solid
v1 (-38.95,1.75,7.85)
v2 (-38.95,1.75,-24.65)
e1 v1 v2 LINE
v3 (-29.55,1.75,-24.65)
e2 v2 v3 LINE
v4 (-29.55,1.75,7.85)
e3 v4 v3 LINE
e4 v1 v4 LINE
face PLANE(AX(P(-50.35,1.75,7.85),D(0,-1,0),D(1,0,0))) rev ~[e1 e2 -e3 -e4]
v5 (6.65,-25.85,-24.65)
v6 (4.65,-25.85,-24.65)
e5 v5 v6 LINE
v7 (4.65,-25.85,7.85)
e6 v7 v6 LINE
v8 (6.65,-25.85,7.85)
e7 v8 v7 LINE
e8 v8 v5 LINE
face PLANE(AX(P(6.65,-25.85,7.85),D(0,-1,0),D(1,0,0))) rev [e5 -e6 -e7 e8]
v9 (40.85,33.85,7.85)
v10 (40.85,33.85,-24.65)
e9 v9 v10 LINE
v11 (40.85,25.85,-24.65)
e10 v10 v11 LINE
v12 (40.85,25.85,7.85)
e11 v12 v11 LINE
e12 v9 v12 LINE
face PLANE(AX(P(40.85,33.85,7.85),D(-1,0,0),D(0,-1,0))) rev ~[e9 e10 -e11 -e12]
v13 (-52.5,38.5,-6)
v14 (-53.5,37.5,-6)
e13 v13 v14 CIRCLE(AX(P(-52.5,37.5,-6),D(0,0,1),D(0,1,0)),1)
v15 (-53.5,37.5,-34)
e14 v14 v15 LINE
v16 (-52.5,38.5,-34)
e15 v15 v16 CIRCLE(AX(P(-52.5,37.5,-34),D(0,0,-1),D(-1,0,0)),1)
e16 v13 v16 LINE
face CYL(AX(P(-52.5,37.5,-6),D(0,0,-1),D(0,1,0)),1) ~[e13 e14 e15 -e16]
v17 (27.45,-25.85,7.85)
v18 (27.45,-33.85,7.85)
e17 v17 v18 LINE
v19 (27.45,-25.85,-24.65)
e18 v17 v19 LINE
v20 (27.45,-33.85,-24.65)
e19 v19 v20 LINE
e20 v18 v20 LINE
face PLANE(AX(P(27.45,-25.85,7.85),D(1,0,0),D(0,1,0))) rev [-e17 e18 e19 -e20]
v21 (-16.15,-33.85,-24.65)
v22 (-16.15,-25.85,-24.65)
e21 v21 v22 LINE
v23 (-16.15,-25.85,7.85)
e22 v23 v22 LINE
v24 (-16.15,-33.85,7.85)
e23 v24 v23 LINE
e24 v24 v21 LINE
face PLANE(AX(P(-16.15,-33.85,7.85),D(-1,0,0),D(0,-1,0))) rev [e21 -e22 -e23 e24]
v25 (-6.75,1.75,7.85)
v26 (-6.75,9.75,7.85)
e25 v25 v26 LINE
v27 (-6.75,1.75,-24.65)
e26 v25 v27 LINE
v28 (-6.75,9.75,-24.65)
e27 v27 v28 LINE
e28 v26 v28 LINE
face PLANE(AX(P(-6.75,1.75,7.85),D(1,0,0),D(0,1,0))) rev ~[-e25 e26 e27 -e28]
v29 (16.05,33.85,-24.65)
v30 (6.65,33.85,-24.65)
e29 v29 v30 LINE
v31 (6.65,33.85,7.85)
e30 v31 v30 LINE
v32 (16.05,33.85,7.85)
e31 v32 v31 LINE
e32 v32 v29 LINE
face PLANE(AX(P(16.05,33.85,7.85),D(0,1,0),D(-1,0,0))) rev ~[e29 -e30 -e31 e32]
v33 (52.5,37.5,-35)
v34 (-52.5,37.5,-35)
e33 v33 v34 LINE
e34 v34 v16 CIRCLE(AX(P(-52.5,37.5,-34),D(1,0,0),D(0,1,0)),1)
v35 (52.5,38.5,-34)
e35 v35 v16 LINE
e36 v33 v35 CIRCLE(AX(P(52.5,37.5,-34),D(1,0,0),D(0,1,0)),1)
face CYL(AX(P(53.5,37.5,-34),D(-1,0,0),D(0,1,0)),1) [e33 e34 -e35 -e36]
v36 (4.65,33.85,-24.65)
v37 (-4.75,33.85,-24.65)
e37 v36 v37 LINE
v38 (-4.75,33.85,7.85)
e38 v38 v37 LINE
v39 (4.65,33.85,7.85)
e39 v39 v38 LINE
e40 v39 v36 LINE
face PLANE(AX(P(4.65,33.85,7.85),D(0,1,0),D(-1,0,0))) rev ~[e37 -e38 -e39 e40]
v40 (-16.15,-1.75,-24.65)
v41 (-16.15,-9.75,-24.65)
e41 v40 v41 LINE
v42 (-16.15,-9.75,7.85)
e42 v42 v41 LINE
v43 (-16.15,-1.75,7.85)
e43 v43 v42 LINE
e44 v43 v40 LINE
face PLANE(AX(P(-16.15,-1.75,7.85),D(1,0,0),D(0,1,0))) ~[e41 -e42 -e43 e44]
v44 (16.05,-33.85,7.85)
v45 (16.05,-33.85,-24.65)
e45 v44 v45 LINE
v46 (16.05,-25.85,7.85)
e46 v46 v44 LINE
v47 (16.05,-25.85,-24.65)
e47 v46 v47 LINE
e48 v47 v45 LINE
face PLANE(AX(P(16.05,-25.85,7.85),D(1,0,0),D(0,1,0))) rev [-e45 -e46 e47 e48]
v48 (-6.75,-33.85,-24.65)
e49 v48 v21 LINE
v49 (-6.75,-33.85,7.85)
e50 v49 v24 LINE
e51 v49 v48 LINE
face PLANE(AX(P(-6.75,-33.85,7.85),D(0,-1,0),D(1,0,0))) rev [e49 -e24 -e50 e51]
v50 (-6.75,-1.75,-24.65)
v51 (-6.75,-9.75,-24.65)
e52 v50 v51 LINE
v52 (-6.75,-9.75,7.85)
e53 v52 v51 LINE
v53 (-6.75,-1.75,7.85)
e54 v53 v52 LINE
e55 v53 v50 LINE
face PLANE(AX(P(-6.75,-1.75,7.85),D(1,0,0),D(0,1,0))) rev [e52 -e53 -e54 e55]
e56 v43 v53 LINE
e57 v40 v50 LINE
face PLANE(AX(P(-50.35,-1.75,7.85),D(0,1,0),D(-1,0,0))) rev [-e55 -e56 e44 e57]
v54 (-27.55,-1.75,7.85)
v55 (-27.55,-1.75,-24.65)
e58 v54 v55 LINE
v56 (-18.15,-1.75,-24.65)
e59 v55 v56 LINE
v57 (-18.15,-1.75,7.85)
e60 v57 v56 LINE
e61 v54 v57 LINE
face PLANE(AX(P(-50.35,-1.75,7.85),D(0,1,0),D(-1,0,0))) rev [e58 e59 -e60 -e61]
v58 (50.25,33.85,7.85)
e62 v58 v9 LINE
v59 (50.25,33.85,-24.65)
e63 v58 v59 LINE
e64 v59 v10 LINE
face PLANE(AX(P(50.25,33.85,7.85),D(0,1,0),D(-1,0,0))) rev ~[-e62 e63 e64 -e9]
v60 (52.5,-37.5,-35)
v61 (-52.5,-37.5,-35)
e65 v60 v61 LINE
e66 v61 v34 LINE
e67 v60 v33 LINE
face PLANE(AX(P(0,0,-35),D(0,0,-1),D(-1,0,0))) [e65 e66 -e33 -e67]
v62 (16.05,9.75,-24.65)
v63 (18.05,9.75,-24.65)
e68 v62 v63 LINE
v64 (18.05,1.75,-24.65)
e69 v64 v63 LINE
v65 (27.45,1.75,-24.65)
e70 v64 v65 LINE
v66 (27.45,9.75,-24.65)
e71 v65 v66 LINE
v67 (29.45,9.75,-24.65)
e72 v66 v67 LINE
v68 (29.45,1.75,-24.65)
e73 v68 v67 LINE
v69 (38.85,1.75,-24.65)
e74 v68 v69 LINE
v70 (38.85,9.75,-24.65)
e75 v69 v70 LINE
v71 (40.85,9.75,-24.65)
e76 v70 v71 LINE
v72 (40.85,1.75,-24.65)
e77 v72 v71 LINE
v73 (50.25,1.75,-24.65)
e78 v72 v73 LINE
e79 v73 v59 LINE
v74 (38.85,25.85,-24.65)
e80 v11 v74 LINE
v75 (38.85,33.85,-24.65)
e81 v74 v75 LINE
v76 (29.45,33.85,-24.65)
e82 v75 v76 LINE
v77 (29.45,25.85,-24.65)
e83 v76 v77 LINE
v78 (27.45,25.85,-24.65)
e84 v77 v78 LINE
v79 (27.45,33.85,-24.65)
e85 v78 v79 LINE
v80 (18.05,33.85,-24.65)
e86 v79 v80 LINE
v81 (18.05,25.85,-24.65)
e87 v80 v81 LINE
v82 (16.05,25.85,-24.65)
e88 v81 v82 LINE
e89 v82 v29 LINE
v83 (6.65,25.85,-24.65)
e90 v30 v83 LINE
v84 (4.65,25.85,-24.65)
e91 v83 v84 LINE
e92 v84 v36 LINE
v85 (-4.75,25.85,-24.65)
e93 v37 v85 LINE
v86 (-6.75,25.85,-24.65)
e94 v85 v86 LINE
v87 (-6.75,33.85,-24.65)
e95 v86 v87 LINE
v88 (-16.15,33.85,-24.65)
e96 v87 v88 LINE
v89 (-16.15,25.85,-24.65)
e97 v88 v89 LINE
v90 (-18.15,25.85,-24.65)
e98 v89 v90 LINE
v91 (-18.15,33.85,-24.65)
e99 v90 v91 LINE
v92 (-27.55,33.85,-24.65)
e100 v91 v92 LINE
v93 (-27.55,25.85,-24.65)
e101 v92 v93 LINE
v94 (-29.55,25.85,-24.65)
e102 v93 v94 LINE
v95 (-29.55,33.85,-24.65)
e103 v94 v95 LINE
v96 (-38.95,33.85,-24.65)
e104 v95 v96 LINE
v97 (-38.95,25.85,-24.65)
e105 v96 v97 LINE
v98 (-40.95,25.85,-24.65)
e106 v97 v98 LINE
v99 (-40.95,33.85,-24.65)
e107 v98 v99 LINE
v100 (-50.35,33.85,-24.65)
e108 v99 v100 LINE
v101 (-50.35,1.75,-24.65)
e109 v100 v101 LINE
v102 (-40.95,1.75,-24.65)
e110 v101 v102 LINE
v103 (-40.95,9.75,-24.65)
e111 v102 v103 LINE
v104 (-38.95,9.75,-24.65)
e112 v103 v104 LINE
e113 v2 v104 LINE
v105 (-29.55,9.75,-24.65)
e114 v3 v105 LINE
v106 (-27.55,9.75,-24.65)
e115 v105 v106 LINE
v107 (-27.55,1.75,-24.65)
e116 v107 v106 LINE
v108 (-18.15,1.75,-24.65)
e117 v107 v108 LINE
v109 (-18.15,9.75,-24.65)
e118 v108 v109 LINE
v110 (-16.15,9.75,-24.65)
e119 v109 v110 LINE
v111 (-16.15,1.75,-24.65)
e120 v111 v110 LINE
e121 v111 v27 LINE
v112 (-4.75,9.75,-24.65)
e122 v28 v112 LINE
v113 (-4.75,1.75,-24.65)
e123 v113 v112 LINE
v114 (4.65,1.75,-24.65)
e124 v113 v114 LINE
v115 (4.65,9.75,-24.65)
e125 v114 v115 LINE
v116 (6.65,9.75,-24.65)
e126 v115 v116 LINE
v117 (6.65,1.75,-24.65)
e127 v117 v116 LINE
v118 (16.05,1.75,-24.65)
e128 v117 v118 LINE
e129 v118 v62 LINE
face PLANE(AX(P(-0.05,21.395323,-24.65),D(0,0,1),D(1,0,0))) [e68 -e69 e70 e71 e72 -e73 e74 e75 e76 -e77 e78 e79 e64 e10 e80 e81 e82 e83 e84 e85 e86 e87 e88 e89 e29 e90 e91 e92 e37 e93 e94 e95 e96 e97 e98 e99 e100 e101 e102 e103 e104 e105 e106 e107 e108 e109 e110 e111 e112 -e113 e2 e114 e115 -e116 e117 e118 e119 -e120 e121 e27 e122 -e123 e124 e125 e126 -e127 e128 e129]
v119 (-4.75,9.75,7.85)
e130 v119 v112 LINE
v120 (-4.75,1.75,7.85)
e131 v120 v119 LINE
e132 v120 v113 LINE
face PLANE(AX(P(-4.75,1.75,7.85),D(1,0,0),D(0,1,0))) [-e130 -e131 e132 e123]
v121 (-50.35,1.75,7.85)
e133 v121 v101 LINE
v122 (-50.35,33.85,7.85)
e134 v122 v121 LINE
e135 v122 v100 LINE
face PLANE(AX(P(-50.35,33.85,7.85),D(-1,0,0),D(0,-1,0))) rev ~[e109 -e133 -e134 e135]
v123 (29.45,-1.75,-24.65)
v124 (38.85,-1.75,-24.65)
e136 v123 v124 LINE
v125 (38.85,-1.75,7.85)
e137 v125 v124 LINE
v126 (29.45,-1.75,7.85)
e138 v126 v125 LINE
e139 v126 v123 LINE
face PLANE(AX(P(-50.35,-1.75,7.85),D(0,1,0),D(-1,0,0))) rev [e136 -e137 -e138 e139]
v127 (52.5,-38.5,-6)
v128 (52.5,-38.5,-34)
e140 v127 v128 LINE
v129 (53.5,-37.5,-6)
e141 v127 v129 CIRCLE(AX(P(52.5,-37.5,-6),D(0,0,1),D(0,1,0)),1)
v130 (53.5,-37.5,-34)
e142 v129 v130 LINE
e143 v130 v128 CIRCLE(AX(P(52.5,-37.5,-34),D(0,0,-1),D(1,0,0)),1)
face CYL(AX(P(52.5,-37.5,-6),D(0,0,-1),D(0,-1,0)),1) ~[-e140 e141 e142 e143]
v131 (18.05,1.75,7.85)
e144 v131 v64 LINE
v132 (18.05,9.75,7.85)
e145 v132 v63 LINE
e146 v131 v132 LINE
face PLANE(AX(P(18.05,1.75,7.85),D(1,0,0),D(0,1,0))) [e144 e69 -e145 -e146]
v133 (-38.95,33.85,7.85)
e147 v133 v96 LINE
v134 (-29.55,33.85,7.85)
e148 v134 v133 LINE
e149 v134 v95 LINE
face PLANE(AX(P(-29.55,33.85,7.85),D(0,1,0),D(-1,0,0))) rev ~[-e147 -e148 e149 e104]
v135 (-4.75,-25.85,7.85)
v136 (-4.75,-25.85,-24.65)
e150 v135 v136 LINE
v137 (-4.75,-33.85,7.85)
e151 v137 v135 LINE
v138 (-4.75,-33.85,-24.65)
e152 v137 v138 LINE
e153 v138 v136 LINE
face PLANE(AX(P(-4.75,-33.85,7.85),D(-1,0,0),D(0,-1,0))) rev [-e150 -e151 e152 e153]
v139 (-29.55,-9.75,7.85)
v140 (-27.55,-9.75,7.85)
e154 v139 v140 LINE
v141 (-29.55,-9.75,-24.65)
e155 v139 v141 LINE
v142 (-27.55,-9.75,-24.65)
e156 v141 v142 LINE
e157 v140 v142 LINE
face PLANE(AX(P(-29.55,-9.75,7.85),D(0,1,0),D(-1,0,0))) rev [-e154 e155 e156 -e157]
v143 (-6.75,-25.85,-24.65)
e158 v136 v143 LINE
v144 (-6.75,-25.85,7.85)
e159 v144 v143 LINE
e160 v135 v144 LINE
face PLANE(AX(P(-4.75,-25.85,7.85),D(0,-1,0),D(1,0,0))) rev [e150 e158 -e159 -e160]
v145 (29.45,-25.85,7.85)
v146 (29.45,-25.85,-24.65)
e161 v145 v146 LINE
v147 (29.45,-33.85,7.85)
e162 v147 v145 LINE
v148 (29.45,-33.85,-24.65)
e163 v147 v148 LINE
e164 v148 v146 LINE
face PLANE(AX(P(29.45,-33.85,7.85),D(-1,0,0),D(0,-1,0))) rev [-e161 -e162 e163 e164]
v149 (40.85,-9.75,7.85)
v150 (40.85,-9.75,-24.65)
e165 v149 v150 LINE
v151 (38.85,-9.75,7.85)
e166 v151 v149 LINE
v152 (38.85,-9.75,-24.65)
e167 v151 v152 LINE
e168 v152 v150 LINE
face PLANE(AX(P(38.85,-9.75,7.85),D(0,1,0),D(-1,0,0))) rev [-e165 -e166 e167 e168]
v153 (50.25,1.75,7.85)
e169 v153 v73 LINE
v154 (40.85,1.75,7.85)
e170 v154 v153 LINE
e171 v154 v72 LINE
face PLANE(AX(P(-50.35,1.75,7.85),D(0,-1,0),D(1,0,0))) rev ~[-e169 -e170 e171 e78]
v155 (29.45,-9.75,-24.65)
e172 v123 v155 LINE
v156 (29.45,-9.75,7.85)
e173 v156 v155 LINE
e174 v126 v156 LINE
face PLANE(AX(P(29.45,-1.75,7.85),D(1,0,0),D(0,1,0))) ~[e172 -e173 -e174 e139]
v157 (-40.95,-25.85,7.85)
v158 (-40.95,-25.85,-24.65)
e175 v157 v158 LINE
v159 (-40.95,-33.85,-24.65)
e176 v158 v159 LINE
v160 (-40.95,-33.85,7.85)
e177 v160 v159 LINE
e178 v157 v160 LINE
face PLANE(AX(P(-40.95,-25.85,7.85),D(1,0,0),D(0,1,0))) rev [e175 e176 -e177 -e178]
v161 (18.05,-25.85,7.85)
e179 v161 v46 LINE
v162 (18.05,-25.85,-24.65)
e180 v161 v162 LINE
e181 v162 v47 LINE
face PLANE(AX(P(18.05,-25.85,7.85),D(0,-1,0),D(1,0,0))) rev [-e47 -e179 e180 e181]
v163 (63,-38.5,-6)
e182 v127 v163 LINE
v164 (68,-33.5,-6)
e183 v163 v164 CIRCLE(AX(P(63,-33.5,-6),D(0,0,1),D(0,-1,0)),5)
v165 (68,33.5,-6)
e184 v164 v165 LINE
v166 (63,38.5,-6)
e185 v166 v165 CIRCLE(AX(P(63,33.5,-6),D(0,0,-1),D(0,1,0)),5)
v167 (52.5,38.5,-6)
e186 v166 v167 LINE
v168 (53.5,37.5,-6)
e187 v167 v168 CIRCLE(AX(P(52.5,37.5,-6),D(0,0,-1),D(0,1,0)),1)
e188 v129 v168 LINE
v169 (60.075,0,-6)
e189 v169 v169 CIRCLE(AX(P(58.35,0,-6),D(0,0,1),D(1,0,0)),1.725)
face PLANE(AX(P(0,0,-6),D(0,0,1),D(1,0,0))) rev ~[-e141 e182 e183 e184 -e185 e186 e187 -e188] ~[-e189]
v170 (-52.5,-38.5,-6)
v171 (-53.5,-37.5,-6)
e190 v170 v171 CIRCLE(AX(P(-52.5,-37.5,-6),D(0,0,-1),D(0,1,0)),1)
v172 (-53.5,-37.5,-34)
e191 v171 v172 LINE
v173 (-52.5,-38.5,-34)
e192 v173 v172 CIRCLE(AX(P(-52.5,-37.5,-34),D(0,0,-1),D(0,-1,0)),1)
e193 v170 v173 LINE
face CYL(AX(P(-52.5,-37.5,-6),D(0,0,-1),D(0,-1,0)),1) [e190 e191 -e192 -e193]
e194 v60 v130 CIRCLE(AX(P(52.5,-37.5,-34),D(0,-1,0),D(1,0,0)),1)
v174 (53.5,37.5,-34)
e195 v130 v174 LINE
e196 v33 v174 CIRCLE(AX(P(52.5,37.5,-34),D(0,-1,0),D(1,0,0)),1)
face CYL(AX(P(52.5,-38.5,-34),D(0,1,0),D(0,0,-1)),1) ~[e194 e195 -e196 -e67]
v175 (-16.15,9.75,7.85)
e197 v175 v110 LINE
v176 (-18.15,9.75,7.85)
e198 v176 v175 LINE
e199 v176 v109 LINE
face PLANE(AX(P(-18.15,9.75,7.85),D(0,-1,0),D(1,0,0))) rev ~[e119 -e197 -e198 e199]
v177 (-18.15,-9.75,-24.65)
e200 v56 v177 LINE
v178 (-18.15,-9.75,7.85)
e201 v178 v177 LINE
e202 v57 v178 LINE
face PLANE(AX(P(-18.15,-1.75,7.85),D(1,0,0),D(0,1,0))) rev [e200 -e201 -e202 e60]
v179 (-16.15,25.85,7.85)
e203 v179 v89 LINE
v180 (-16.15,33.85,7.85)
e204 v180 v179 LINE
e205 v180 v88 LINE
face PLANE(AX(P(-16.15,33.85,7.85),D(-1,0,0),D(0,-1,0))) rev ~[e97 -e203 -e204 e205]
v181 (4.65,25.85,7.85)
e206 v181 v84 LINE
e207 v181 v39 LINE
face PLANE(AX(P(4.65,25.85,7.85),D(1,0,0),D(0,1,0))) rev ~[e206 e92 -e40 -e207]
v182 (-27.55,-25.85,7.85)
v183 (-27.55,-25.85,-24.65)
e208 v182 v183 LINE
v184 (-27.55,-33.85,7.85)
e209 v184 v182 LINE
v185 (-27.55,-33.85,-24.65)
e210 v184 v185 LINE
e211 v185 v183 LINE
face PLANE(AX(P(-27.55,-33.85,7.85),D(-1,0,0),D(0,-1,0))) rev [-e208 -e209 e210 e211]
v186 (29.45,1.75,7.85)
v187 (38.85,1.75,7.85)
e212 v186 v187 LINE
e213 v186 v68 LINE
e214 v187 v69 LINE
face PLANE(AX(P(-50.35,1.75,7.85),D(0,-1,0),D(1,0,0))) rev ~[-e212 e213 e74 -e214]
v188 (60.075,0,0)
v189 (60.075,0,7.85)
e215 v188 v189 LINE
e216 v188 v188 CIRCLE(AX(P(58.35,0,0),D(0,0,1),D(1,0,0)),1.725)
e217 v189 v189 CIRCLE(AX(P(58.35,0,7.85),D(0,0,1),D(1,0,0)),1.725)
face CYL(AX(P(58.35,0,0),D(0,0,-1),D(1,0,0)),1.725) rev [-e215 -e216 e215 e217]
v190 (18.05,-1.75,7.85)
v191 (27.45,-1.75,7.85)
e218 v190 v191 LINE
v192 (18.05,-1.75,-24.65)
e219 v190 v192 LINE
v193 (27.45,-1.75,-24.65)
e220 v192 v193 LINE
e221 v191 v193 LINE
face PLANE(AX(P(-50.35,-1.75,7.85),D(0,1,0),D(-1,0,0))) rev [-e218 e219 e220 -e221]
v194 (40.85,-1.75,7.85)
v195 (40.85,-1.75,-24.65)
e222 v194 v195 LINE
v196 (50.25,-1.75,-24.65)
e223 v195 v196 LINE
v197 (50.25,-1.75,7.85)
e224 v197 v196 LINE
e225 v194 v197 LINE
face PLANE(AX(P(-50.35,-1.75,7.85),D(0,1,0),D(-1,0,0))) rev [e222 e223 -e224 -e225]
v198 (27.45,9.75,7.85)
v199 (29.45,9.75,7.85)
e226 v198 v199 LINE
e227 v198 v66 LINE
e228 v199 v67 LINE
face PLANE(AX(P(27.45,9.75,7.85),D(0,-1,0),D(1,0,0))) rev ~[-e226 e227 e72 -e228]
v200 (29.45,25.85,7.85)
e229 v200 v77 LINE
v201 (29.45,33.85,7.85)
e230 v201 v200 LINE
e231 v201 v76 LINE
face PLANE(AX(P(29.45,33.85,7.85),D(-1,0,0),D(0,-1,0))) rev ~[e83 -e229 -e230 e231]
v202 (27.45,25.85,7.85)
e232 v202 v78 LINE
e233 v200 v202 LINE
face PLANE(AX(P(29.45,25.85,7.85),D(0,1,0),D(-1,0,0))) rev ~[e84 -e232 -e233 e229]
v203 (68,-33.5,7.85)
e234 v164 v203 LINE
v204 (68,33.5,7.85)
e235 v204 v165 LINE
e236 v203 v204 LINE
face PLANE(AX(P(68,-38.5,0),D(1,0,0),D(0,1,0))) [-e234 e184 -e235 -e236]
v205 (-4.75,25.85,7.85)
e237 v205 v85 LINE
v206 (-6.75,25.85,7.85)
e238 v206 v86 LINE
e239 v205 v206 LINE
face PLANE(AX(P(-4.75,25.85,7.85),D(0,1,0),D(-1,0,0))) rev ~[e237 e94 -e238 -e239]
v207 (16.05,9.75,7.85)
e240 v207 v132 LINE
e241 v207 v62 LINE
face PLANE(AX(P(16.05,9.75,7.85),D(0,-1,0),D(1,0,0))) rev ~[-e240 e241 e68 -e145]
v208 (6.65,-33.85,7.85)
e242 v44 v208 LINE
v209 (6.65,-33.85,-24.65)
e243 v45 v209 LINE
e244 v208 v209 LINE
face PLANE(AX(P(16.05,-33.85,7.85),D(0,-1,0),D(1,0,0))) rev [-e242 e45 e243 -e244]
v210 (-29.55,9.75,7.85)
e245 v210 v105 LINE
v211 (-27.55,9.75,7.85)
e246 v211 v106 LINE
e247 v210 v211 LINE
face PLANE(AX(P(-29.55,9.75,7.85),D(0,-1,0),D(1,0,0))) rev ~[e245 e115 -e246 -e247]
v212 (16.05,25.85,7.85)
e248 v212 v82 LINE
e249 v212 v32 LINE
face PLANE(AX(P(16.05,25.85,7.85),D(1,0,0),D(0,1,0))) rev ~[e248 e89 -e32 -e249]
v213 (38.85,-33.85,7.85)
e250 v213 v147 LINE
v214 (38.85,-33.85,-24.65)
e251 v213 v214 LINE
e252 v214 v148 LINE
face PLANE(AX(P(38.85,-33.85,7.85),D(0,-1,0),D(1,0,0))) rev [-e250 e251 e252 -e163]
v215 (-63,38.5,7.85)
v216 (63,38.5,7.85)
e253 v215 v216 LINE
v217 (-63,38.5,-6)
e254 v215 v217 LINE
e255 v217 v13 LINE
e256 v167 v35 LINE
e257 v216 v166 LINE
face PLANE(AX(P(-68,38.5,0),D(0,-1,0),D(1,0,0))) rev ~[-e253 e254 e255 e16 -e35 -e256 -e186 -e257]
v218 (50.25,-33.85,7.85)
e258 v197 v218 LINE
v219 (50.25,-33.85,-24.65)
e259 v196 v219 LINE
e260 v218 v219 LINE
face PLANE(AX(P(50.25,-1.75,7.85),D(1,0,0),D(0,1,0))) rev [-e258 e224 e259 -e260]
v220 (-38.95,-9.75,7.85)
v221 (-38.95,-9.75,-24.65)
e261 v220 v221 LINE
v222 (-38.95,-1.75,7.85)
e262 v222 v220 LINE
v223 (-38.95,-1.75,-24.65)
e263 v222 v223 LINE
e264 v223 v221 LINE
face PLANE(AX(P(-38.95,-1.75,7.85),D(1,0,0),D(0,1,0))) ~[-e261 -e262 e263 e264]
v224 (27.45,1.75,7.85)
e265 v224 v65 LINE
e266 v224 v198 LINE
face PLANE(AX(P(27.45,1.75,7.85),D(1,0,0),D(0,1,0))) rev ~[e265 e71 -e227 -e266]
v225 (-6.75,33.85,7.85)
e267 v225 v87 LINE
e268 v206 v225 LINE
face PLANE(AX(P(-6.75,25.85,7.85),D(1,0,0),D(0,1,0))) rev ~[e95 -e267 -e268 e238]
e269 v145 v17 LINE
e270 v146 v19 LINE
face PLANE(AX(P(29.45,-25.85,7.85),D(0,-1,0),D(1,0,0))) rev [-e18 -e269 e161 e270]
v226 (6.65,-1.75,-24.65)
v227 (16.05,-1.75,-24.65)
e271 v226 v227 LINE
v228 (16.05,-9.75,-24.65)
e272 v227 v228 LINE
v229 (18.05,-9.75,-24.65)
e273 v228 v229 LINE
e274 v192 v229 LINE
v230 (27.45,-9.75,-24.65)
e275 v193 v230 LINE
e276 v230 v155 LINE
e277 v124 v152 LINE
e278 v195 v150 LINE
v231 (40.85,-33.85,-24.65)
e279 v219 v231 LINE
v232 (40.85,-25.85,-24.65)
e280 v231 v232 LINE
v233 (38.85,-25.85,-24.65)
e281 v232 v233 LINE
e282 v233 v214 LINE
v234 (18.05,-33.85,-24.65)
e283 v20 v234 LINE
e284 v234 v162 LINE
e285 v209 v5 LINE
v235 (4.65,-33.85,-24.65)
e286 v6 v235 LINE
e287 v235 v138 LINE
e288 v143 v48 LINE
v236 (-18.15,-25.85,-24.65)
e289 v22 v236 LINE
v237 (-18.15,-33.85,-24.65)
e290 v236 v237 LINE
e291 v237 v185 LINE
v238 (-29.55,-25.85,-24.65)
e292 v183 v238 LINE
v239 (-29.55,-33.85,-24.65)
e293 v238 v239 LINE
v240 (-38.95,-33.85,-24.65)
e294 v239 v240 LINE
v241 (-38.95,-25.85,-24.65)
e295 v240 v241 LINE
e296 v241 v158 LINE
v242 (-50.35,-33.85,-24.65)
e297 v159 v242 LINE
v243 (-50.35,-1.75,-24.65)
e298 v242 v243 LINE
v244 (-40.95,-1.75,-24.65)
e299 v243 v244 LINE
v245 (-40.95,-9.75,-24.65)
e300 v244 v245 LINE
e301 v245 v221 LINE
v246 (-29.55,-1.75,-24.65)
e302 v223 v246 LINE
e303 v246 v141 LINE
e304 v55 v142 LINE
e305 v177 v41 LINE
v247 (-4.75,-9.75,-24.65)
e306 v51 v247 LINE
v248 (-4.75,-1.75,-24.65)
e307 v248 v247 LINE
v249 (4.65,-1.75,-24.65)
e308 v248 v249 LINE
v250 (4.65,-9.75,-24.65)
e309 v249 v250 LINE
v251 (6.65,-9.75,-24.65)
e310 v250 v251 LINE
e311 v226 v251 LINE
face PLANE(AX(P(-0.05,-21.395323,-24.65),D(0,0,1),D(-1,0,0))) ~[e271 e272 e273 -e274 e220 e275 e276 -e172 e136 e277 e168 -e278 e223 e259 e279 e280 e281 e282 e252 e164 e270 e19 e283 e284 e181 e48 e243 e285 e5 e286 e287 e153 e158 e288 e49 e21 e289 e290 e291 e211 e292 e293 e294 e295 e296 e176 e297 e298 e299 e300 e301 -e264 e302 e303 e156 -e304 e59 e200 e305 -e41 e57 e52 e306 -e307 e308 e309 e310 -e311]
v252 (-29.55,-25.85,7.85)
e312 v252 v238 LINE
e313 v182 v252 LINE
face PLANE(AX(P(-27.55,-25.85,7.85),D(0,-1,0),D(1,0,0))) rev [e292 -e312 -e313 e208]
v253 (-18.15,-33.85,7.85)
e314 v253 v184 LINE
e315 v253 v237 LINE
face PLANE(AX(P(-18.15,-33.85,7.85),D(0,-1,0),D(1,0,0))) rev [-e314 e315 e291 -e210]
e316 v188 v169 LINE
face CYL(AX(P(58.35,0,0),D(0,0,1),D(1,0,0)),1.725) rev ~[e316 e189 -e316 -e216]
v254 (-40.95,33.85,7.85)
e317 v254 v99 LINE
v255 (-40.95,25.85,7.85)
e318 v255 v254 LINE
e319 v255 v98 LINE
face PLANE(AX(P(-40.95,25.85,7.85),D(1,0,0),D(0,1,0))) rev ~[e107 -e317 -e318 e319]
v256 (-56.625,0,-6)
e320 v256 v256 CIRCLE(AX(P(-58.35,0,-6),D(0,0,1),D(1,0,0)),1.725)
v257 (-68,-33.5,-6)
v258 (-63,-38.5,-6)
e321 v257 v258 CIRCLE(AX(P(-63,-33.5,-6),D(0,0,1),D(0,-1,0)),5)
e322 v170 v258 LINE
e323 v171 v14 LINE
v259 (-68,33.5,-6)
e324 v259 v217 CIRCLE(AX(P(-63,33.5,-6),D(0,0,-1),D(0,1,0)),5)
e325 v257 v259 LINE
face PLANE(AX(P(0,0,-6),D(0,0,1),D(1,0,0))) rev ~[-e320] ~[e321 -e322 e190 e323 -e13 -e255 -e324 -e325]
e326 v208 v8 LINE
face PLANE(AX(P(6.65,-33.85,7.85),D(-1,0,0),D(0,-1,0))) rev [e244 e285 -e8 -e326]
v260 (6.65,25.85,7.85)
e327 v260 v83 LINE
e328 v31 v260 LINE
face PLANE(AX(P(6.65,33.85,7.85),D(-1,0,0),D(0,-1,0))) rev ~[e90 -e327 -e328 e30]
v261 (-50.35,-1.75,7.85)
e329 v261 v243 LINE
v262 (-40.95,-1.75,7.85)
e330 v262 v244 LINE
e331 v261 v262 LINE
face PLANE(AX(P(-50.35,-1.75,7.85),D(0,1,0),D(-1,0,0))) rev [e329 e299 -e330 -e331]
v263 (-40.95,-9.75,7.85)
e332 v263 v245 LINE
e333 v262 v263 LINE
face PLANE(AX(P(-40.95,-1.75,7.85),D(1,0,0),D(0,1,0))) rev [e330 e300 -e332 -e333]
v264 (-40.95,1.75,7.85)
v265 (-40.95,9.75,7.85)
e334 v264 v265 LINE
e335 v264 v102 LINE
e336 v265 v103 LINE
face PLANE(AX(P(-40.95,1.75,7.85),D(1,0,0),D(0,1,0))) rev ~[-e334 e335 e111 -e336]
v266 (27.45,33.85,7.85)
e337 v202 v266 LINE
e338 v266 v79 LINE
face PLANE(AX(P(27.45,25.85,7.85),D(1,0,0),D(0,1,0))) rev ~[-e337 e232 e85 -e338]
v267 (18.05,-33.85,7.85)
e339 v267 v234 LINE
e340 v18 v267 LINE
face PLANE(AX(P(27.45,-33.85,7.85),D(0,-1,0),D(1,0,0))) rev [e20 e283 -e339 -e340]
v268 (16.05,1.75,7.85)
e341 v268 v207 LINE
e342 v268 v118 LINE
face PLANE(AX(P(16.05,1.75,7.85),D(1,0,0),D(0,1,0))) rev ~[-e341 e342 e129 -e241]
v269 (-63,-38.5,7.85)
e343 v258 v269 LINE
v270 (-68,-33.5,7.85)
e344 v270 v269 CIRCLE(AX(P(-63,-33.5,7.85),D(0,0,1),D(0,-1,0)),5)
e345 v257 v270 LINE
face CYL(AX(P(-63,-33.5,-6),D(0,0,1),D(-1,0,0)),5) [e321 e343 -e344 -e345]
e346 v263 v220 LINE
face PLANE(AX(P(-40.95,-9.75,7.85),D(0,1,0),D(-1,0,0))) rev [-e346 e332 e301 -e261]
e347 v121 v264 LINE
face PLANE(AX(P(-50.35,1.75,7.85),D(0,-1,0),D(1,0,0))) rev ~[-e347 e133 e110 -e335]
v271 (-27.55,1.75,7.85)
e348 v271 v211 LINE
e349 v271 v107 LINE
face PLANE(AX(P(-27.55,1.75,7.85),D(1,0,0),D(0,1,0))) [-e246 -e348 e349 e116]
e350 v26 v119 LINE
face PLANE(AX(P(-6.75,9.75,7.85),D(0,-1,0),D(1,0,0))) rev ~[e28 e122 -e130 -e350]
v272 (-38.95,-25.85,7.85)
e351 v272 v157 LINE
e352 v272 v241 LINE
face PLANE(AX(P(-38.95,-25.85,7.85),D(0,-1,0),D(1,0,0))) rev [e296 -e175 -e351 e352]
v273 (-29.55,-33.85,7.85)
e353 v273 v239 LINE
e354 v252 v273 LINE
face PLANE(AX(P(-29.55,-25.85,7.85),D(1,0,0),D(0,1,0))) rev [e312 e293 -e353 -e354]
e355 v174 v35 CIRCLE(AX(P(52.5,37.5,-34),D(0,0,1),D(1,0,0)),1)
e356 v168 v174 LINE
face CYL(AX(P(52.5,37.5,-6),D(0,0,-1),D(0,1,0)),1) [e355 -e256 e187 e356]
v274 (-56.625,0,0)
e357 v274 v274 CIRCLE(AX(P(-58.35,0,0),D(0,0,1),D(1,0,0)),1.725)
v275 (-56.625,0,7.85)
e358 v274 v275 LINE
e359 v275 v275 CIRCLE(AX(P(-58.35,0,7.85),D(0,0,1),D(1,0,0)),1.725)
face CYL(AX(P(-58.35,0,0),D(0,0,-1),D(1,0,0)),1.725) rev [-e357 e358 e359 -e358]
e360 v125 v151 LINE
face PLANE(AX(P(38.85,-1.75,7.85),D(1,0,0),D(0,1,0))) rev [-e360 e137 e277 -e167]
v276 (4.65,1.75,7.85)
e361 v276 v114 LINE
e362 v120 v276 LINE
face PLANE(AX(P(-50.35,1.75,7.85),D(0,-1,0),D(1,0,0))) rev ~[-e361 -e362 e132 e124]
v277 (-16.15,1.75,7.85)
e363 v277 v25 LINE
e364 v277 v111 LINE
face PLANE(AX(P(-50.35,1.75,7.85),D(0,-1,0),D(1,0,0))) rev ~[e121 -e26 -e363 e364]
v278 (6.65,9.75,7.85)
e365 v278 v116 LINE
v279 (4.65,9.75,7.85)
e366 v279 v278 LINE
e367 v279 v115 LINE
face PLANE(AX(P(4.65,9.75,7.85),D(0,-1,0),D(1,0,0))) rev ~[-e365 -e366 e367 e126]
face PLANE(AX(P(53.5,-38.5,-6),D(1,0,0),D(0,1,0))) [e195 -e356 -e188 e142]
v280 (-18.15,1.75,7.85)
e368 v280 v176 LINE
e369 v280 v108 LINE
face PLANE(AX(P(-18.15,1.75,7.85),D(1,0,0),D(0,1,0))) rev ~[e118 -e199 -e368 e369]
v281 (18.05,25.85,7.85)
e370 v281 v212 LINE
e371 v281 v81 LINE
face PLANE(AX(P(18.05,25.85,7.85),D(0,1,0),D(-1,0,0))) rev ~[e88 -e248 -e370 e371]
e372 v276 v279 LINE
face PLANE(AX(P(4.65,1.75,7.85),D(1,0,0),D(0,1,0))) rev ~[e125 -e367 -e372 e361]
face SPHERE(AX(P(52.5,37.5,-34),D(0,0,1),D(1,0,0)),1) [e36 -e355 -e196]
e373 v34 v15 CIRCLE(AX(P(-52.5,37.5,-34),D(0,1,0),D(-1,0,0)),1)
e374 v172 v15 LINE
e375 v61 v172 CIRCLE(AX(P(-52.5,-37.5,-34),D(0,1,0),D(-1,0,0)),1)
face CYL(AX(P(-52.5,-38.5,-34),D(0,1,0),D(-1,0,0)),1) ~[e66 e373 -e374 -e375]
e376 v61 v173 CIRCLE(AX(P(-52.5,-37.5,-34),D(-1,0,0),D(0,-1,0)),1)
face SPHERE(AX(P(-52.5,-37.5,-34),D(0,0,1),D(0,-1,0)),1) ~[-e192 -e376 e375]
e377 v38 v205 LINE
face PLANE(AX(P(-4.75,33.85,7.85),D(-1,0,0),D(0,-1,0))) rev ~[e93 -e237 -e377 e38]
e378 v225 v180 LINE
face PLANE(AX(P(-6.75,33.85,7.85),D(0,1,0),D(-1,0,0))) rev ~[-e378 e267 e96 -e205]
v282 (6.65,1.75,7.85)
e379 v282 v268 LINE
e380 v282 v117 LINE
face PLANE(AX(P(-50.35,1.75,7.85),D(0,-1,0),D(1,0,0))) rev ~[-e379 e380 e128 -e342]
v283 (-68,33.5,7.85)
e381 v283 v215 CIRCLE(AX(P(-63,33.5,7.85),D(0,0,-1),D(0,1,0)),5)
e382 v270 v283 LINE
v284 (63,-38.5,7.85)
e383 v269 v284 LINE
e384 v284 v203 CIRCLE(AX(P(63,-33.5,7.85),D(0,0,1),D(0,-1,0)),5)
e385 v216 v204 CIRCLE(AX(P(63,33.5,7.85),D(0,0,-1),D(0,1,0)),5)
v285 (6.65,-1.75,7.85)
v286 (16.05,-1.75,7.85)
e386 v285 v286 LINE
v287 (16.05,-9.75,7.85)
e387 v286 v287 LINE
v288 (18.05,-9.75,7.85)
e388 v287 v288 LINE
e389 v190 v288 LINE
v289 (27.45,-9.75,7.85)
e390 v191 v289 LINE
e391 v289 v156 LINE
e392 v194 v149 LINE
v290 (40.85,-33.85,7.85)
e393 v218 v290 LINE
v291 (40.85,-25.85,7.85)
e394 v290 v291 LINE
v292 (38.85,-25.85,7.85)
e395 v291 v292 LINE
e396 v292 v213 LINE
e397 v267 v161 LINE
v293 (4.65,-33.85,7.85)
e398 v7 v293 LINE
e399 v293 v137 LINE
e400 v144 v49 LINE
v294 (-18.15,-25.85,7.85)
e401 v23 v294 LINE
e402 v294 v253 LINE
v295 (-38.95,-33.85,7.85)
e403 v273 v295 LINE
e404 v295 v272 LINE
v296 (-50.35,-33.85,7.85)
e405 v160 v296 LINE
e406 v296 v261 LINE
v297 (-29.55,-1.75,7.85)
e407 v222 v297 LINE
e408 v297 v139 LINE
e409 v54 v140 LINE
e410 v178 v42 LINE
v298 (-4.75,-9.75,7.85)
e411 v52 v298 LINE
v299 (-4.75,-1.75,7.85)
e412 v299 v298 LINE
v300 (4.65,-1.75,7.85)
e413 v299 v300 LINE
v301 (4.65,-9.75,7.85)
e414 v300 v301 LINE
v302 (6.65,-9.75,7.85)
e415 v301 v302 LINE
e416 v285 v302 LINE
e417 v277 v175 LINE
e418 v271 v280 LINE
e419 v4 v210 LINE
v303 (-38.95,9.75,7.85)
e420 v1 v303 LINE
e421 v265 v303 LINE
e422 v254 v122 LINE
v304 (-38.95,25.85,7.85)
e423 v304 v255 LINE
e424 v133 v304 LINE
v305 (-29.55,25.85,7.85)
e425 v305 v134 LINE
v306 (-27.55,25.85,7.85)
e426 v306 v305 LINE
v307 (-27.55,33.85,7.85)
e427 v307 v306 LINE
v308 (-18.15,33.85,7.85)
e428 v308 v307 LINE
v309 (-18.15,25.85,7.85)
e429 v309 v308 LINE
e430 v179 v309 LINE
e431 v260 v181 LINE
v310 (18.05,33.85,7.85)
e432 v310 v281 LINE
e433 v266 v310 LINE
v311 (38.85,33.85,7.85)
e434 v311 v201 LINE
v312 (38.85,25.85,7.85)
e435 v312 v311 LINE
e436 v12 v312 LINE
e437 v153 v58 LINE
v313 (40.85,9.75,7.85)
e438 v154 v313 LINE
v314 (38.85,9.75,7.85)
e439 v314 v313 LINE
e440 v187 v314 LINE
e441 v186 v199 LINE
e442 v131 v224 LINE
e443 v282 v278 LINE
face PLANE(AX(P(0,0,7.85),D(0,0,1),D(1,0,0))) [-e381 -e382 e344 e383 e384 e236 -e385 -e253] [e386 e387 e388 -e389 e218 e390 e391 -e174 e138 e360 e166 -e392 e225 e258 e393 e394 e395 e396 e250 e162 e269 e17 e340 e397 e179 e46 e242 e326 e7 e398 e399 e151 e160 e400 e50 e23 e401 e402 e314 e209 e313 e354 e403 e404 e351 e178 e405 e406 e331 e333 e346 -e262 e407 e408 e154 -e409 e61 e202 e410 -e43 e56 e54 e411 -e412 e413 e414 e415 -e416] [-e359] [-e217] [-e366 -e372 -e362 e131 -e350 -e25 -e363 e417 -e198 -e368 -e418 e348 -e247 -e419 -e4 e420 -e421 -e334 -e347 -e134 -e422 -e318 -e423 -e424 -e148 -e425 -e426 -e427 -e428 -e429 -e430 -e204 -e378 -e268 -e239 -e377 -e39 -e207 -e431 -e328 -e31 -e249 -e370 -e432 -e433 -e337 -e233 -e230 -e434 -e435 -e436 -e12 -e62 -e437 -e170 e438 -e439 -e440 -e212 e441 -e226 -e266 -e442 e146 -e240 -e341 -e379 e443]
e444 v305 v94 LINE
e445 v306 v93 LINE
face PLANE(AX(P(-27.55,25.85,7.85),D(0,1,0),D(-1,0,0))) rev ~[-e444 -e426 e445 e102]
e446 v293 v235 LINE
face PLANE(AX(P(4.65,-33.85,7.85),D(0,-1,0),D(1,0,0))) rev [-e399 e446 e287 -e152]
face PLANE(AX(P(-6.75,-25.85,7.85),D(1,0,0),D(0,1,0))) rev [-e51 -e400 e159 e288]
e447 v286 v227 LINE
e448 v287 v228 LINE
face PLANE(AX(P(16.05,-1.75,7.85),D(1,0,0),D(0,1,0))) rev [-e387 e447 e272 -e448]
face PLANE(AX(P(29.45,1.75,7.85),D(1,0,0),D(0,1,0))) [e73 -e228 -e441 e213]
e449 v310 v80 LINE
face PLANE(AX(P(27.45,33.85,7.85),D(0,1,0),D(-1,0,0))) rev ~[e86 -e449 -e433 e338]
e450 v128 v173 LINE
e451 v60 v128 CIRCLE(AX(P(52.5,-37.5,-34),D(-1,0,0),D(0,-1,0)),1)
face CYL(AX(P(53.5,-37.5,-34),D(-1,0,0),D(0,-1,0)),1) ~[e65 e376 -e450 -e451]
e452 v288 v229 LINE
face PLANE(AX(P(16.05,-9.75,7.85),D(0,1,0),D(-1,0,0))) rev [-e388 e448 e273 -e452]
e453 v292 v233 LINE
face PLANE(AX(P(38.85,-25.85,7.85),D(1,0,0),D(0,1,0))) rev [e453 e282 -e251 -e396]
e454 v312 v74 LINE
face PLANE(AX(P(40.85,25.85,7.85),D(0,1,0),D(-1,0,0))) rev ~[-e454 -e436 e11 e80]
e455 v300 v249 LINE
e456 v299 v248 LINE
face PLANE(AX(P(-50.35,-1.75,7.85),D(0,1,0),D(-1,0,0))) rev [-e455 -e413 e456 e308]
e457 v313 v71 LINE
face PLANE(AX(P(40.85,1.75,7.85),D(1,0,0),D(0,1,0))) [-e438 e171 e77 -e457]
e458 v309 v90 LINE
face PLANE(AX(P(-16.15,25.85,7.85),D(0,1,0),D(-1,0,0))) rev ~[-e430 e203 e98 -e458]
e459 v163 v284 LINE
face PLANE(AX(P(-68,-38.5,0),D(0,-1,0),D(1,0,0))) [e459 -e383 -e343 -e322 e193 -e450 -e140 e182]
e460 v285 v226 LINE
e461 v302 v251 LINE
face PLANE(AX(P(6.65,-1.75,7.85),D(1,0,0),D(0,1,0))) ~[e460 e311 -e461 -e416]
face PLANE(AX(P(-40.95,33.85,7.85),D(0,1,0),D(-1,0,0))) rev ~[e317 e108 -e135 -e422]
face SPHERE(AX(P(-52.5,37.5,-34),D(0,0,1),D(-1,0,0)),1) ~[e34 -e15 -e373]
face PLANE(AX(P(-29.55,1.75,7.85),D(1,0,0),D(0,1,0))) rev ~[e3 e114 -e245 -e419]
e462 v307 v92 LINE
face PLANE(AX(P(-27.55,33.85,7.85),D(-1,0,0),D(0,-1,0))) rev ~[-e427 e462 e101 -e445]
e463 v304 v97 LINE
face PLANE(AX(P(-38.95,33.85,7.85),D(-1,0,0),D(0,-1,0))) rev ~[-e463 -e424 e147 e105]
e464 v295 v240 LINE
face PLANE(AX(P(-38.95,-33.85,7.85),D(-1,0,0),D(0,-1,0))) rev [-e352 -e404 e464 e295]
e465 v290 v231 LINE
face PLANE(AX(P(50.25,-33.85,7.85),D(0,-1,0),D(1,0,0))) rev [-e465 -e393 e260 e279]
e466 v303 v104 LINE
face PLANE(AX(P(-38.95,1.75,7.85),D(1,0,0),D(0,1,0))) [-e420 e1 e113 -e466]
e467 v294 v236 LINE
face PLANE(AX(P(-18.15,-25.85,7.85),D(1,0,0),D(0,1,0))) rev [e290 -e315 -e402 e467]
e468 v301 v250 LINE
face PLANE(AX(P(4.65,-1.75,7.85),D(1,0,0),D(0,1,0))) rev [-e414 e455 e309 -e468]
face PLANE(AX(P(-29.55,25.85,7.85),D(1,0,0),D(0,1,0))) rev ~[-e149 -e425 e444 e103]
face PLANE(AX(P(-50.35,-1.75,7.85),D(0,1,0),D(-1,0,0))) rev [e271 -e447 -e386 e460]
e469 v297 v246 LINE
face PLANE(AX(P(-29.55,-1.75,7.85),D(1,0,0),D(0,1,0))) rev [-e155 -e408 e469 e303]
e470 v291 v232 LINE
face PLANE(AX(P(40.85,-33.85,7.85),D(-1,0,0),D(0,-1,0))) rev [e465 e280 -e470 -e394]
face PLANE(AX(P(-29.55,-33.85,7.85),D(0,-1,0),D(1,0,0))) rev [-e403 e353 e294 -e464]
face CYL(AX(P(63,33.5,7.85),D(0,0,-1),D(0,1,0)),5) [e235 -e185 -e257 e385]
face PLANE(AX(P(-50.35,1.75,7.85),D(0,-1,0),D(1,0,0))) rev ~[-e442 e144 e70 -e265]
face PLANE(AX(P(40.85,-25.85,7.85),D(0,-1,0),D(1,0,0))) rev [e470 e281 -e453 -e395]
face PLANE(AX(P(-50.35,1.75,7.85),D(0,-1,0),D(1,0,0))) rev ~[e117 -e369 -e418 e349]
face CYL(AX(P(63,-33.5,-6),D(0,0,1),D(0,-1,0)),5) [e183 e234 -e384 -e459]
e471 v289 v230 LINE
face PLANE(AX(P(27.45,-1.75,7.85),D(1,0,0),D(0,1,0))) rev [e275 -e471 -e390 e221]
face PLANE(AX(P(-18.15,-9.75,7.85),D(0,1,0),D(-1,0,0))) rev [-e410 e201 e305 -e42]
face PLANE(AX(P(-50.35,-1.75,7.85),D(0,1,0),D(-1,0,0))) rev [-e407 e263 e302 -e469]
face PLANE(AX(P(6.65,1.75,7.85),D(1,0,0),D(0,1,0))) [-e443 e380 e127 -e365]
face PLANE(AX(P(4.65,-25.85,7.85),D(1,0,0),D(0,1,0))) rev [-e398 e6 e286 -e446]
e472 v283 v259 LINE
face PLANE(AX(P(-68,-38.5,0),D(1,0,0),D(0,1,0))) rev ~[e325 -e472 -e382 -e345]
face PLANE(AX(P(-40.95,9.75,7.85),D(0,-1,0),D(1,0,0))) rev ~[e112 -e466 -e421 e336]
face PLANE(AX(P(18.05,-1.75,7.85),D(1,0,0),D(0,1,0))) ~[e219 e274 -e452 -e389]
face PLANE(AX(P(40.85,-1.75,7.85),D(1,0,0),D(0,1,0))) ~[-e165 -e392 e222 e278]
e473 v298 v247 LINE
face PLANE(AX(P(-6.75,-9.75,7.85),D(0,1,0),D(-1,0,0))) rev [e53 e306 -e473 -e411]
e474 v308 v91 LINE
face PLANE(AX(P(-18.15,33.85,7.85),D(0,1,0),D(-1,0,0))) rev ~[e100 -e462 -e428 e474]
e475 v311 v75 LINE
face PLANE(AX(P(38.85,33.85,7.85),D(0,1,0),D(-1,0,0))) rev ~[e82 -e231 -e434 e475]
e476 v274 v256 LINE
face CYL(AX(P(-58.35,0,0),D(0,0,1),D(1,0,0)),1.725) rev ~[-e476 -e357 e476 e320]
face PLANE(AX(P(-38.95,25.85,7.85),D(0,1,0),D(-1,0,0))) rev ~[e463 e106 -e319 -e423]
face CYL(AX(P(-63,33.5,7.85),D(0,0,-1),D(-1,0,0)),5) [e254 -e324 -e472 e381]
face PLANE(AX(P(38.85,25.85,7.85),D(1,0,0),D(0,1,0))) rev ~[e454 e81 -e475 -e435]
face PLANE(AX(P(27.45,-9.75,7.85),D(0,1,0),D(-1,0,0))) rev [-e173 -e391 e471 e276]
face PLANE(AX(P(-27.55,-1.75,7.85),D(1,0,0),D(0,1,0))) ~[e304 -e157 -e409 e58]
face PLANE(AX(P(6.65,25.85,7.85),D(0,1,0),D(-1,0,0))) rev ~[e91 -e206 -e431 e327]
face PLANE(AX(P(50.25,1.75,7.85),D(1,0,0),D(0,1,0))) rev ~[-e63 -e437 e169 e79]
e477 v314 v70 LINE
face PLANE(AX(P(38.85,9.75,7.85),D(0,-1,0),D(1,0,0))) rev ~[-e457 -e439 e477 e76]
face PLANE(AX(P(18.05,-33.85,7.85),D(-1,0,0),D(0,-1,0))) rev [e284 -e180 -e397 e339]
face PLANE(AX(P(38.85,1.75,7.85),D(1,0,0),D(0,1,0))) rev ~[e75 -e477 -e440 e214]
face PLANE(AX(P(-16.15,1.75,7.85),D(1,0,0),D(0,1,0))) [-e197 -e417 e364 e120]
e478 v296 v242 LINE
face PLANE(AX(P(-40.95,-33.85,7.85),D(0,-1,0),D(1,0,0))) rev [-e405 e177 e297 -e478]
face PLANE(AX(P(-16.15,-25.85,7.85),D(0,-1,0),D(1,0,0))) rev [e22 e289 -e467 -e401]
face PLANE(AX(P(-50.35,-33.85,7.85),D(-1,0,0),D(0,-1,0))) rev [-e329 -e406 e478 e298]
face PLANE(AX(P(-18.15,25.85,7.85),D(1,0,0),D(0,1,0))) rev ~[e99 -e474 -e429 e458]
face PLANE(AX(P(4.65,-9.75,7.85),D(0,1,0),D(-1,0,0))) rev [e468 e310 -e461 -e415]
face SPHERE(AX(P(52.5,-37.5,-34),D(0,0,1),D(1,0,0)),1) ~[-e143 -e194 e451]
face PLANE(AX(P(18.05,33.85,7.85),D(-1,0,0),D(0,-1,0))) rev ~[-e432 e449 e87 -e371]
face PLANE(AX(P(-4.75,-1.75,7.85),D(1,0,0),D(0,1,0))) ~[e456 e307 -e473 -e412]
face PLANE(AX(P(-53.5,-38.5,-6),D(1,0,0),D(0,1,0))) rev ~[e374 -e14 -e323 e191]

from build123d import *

# Parameters (mm, degrees)
SKETCH1_W                = 136
SKETCH1_H                = 77
SKETCH1_R                = 1.725
BOSS_EXTRUDE1_DEPTH      = 7.85
BOSS_EXTRUDE1_DEPTH_BACK = 6
SKETCH2_W                = 107
SKETCH2_H                = 77
BOSS_EXTRUDE2_DEPTH      = 29
CUT_EXTRUDE1_DEPTH       = 32.5
SKETCH4_W                = 2
SKETCH4_H                = 8
BOSS_EXTRUDE3_DEPTH      = 32.5
FILLET1_R                = 5
FILLET4_R                = 1


with BuildPart() as part:
    # Sketch1 → Boss-Extrude1 (new body, two sides)
    with BuildSketch(Plane.XY) as boss_extrude1_sk:
        Rectangle(SKETCH1_W, SKETCH1_H)
        with Locations((-58.35, 0)):
            Circle(SKETCH1_R, mode=Mode.SUBTRACT)
        with Locations((58.35, 0)):
            Circle(SKETCH1_R, mode=Mode.SUBTRACT)
    extrude(amount=BOSS_EXTRUDE1_DEPTH)
    extrude(boss_extrude1_sk.sketch, amount=-BOSS_EXTRUDE1_DEPTH_BACK)

    # Sketch2 → Boss-Extrude2 (add)
    with BuildSketch(Plane(origin=(0, 0, -6), x_dir=(-1, 0, 0), z_dir=(0, 0, -1))):
        Rectangle(SKETCH2_W, SKETCH2_H)
    extrude(amount=BOSS_EXTRUDE2_DEPTH)

    # Sketch3 → Cut-Extrude1 (cut)
    with BuildSketch(Plane.XY.offset(7.85)):
        Polygon((-38.95, 33.85), (-38.95, 25.85), (-40.95, 25.85), (-40.95, 33.85), (-50.35, 33.85), (-50.35, 1.75), (50.25, 1.75), (50.25, 33.85), (40.85, 33.85), (40.85, 25.85), (38.85, 25.85), (38.85, 33.85), (29.45, 33.85), (29.45, 25.85), (27.45, 25.85), (27.45, 33.85), (18.05, 33.85), (18.05, 25.85), (16.05, 25.85), (16.05, 33.85), (6.65, 33.85), (6.65, 25.85), (4.65, 25.85), (4.65, 33.85), (-4.75, 33.85), (-4.75, 25.85), (-6.75, 25.85), (-6.75, 33.85), (-16.15, 33.85), (-16.15, 25.85), (-18.15, 25.85), (-18.15, 33.85), (-27.55, 33.85), (-27.55, 25.85), (-29.55, 25.85), (-29.55, 33.85), align=None)
    cut_extrude1 = extrude(amount=-CUT_EXTRUDE1_DEPTH, mode=Mode.SUBTRACT)

    # Mirror1: Cut-Extrude1 across plane
    add(cut_extrude1.mirror(Plane.ZX), mode=Mode.SUBTRACT)

    # Sketch4 → Boss-Extrude3 (add)
    with BuildSketch(Plane.XY.offset(7.85)):
        with Locations((-39.95, 5.75)):
            Rectangle(SKETCH4_W, SKETCH4_H)
        with Locations((-28.55, 5.75)):
            Rectangle(SKETCH4_W, SKETCH4_H)
        with Locations((-17.15, 5.75)):
            Rectangle(SKETCH4_W, SKETCH4_H)
        with Locations((-5.75, 5.75)):
            Rectangle(SKETCH4_W, SKETCH4_H)
        with Locations((5.65, 5.75)):
            Rectangle(SKETCH4_W, SKETCH4_H)
        with Locations((17.05, 5.75)):
            Rectangle(SKETCH4_W, SKETCH4_H)
        with Locations((28.45, 5.75)):
            Rectangle(SKETCH4_W, SKETCH4_H)
        with Locations((39.85, 5.75)):
            Rectangle(SKETCH4_W, SKETCH4_H)
    boss_extrude3 = extrude(amount=-BOSS_EXTRUDE3_DEPTH)

    # Mirror2: Boss-Extrude3 across plane
    add(boss_extrude3.mirror(Plane.ZX))

    # Fillet1
    fillet1_edges = [part.edges().sort_by_distance(p)[0] for p in [
        (-68, 38.5, 0.925),
        (68, 38.5, 0.925),
        (68, -38.5, 0.925),
        (-68, -38.5, 0.925),
    ]]
    fillet(fillet1_edges, radius=FILLET1_R)

    # Fillet4
    fillet4_edges = [part.edges().sort_by_distance(p)[0] for p in [
        (53.5, 38.5, -20.5),
        (53.5, -38.5, -20.5),
        (-53.5, -38.5, -20.5),
        (-53.5, 38.5, -20.5),
        (53.5, 0, -35),
        (0, -38.5, -35),
        (-53.5, 0, -35),
        (0, 38.5, -35),
    ]]
    fillet(fillet4_edges, radius=FILLET4_R)


solid = part.part
